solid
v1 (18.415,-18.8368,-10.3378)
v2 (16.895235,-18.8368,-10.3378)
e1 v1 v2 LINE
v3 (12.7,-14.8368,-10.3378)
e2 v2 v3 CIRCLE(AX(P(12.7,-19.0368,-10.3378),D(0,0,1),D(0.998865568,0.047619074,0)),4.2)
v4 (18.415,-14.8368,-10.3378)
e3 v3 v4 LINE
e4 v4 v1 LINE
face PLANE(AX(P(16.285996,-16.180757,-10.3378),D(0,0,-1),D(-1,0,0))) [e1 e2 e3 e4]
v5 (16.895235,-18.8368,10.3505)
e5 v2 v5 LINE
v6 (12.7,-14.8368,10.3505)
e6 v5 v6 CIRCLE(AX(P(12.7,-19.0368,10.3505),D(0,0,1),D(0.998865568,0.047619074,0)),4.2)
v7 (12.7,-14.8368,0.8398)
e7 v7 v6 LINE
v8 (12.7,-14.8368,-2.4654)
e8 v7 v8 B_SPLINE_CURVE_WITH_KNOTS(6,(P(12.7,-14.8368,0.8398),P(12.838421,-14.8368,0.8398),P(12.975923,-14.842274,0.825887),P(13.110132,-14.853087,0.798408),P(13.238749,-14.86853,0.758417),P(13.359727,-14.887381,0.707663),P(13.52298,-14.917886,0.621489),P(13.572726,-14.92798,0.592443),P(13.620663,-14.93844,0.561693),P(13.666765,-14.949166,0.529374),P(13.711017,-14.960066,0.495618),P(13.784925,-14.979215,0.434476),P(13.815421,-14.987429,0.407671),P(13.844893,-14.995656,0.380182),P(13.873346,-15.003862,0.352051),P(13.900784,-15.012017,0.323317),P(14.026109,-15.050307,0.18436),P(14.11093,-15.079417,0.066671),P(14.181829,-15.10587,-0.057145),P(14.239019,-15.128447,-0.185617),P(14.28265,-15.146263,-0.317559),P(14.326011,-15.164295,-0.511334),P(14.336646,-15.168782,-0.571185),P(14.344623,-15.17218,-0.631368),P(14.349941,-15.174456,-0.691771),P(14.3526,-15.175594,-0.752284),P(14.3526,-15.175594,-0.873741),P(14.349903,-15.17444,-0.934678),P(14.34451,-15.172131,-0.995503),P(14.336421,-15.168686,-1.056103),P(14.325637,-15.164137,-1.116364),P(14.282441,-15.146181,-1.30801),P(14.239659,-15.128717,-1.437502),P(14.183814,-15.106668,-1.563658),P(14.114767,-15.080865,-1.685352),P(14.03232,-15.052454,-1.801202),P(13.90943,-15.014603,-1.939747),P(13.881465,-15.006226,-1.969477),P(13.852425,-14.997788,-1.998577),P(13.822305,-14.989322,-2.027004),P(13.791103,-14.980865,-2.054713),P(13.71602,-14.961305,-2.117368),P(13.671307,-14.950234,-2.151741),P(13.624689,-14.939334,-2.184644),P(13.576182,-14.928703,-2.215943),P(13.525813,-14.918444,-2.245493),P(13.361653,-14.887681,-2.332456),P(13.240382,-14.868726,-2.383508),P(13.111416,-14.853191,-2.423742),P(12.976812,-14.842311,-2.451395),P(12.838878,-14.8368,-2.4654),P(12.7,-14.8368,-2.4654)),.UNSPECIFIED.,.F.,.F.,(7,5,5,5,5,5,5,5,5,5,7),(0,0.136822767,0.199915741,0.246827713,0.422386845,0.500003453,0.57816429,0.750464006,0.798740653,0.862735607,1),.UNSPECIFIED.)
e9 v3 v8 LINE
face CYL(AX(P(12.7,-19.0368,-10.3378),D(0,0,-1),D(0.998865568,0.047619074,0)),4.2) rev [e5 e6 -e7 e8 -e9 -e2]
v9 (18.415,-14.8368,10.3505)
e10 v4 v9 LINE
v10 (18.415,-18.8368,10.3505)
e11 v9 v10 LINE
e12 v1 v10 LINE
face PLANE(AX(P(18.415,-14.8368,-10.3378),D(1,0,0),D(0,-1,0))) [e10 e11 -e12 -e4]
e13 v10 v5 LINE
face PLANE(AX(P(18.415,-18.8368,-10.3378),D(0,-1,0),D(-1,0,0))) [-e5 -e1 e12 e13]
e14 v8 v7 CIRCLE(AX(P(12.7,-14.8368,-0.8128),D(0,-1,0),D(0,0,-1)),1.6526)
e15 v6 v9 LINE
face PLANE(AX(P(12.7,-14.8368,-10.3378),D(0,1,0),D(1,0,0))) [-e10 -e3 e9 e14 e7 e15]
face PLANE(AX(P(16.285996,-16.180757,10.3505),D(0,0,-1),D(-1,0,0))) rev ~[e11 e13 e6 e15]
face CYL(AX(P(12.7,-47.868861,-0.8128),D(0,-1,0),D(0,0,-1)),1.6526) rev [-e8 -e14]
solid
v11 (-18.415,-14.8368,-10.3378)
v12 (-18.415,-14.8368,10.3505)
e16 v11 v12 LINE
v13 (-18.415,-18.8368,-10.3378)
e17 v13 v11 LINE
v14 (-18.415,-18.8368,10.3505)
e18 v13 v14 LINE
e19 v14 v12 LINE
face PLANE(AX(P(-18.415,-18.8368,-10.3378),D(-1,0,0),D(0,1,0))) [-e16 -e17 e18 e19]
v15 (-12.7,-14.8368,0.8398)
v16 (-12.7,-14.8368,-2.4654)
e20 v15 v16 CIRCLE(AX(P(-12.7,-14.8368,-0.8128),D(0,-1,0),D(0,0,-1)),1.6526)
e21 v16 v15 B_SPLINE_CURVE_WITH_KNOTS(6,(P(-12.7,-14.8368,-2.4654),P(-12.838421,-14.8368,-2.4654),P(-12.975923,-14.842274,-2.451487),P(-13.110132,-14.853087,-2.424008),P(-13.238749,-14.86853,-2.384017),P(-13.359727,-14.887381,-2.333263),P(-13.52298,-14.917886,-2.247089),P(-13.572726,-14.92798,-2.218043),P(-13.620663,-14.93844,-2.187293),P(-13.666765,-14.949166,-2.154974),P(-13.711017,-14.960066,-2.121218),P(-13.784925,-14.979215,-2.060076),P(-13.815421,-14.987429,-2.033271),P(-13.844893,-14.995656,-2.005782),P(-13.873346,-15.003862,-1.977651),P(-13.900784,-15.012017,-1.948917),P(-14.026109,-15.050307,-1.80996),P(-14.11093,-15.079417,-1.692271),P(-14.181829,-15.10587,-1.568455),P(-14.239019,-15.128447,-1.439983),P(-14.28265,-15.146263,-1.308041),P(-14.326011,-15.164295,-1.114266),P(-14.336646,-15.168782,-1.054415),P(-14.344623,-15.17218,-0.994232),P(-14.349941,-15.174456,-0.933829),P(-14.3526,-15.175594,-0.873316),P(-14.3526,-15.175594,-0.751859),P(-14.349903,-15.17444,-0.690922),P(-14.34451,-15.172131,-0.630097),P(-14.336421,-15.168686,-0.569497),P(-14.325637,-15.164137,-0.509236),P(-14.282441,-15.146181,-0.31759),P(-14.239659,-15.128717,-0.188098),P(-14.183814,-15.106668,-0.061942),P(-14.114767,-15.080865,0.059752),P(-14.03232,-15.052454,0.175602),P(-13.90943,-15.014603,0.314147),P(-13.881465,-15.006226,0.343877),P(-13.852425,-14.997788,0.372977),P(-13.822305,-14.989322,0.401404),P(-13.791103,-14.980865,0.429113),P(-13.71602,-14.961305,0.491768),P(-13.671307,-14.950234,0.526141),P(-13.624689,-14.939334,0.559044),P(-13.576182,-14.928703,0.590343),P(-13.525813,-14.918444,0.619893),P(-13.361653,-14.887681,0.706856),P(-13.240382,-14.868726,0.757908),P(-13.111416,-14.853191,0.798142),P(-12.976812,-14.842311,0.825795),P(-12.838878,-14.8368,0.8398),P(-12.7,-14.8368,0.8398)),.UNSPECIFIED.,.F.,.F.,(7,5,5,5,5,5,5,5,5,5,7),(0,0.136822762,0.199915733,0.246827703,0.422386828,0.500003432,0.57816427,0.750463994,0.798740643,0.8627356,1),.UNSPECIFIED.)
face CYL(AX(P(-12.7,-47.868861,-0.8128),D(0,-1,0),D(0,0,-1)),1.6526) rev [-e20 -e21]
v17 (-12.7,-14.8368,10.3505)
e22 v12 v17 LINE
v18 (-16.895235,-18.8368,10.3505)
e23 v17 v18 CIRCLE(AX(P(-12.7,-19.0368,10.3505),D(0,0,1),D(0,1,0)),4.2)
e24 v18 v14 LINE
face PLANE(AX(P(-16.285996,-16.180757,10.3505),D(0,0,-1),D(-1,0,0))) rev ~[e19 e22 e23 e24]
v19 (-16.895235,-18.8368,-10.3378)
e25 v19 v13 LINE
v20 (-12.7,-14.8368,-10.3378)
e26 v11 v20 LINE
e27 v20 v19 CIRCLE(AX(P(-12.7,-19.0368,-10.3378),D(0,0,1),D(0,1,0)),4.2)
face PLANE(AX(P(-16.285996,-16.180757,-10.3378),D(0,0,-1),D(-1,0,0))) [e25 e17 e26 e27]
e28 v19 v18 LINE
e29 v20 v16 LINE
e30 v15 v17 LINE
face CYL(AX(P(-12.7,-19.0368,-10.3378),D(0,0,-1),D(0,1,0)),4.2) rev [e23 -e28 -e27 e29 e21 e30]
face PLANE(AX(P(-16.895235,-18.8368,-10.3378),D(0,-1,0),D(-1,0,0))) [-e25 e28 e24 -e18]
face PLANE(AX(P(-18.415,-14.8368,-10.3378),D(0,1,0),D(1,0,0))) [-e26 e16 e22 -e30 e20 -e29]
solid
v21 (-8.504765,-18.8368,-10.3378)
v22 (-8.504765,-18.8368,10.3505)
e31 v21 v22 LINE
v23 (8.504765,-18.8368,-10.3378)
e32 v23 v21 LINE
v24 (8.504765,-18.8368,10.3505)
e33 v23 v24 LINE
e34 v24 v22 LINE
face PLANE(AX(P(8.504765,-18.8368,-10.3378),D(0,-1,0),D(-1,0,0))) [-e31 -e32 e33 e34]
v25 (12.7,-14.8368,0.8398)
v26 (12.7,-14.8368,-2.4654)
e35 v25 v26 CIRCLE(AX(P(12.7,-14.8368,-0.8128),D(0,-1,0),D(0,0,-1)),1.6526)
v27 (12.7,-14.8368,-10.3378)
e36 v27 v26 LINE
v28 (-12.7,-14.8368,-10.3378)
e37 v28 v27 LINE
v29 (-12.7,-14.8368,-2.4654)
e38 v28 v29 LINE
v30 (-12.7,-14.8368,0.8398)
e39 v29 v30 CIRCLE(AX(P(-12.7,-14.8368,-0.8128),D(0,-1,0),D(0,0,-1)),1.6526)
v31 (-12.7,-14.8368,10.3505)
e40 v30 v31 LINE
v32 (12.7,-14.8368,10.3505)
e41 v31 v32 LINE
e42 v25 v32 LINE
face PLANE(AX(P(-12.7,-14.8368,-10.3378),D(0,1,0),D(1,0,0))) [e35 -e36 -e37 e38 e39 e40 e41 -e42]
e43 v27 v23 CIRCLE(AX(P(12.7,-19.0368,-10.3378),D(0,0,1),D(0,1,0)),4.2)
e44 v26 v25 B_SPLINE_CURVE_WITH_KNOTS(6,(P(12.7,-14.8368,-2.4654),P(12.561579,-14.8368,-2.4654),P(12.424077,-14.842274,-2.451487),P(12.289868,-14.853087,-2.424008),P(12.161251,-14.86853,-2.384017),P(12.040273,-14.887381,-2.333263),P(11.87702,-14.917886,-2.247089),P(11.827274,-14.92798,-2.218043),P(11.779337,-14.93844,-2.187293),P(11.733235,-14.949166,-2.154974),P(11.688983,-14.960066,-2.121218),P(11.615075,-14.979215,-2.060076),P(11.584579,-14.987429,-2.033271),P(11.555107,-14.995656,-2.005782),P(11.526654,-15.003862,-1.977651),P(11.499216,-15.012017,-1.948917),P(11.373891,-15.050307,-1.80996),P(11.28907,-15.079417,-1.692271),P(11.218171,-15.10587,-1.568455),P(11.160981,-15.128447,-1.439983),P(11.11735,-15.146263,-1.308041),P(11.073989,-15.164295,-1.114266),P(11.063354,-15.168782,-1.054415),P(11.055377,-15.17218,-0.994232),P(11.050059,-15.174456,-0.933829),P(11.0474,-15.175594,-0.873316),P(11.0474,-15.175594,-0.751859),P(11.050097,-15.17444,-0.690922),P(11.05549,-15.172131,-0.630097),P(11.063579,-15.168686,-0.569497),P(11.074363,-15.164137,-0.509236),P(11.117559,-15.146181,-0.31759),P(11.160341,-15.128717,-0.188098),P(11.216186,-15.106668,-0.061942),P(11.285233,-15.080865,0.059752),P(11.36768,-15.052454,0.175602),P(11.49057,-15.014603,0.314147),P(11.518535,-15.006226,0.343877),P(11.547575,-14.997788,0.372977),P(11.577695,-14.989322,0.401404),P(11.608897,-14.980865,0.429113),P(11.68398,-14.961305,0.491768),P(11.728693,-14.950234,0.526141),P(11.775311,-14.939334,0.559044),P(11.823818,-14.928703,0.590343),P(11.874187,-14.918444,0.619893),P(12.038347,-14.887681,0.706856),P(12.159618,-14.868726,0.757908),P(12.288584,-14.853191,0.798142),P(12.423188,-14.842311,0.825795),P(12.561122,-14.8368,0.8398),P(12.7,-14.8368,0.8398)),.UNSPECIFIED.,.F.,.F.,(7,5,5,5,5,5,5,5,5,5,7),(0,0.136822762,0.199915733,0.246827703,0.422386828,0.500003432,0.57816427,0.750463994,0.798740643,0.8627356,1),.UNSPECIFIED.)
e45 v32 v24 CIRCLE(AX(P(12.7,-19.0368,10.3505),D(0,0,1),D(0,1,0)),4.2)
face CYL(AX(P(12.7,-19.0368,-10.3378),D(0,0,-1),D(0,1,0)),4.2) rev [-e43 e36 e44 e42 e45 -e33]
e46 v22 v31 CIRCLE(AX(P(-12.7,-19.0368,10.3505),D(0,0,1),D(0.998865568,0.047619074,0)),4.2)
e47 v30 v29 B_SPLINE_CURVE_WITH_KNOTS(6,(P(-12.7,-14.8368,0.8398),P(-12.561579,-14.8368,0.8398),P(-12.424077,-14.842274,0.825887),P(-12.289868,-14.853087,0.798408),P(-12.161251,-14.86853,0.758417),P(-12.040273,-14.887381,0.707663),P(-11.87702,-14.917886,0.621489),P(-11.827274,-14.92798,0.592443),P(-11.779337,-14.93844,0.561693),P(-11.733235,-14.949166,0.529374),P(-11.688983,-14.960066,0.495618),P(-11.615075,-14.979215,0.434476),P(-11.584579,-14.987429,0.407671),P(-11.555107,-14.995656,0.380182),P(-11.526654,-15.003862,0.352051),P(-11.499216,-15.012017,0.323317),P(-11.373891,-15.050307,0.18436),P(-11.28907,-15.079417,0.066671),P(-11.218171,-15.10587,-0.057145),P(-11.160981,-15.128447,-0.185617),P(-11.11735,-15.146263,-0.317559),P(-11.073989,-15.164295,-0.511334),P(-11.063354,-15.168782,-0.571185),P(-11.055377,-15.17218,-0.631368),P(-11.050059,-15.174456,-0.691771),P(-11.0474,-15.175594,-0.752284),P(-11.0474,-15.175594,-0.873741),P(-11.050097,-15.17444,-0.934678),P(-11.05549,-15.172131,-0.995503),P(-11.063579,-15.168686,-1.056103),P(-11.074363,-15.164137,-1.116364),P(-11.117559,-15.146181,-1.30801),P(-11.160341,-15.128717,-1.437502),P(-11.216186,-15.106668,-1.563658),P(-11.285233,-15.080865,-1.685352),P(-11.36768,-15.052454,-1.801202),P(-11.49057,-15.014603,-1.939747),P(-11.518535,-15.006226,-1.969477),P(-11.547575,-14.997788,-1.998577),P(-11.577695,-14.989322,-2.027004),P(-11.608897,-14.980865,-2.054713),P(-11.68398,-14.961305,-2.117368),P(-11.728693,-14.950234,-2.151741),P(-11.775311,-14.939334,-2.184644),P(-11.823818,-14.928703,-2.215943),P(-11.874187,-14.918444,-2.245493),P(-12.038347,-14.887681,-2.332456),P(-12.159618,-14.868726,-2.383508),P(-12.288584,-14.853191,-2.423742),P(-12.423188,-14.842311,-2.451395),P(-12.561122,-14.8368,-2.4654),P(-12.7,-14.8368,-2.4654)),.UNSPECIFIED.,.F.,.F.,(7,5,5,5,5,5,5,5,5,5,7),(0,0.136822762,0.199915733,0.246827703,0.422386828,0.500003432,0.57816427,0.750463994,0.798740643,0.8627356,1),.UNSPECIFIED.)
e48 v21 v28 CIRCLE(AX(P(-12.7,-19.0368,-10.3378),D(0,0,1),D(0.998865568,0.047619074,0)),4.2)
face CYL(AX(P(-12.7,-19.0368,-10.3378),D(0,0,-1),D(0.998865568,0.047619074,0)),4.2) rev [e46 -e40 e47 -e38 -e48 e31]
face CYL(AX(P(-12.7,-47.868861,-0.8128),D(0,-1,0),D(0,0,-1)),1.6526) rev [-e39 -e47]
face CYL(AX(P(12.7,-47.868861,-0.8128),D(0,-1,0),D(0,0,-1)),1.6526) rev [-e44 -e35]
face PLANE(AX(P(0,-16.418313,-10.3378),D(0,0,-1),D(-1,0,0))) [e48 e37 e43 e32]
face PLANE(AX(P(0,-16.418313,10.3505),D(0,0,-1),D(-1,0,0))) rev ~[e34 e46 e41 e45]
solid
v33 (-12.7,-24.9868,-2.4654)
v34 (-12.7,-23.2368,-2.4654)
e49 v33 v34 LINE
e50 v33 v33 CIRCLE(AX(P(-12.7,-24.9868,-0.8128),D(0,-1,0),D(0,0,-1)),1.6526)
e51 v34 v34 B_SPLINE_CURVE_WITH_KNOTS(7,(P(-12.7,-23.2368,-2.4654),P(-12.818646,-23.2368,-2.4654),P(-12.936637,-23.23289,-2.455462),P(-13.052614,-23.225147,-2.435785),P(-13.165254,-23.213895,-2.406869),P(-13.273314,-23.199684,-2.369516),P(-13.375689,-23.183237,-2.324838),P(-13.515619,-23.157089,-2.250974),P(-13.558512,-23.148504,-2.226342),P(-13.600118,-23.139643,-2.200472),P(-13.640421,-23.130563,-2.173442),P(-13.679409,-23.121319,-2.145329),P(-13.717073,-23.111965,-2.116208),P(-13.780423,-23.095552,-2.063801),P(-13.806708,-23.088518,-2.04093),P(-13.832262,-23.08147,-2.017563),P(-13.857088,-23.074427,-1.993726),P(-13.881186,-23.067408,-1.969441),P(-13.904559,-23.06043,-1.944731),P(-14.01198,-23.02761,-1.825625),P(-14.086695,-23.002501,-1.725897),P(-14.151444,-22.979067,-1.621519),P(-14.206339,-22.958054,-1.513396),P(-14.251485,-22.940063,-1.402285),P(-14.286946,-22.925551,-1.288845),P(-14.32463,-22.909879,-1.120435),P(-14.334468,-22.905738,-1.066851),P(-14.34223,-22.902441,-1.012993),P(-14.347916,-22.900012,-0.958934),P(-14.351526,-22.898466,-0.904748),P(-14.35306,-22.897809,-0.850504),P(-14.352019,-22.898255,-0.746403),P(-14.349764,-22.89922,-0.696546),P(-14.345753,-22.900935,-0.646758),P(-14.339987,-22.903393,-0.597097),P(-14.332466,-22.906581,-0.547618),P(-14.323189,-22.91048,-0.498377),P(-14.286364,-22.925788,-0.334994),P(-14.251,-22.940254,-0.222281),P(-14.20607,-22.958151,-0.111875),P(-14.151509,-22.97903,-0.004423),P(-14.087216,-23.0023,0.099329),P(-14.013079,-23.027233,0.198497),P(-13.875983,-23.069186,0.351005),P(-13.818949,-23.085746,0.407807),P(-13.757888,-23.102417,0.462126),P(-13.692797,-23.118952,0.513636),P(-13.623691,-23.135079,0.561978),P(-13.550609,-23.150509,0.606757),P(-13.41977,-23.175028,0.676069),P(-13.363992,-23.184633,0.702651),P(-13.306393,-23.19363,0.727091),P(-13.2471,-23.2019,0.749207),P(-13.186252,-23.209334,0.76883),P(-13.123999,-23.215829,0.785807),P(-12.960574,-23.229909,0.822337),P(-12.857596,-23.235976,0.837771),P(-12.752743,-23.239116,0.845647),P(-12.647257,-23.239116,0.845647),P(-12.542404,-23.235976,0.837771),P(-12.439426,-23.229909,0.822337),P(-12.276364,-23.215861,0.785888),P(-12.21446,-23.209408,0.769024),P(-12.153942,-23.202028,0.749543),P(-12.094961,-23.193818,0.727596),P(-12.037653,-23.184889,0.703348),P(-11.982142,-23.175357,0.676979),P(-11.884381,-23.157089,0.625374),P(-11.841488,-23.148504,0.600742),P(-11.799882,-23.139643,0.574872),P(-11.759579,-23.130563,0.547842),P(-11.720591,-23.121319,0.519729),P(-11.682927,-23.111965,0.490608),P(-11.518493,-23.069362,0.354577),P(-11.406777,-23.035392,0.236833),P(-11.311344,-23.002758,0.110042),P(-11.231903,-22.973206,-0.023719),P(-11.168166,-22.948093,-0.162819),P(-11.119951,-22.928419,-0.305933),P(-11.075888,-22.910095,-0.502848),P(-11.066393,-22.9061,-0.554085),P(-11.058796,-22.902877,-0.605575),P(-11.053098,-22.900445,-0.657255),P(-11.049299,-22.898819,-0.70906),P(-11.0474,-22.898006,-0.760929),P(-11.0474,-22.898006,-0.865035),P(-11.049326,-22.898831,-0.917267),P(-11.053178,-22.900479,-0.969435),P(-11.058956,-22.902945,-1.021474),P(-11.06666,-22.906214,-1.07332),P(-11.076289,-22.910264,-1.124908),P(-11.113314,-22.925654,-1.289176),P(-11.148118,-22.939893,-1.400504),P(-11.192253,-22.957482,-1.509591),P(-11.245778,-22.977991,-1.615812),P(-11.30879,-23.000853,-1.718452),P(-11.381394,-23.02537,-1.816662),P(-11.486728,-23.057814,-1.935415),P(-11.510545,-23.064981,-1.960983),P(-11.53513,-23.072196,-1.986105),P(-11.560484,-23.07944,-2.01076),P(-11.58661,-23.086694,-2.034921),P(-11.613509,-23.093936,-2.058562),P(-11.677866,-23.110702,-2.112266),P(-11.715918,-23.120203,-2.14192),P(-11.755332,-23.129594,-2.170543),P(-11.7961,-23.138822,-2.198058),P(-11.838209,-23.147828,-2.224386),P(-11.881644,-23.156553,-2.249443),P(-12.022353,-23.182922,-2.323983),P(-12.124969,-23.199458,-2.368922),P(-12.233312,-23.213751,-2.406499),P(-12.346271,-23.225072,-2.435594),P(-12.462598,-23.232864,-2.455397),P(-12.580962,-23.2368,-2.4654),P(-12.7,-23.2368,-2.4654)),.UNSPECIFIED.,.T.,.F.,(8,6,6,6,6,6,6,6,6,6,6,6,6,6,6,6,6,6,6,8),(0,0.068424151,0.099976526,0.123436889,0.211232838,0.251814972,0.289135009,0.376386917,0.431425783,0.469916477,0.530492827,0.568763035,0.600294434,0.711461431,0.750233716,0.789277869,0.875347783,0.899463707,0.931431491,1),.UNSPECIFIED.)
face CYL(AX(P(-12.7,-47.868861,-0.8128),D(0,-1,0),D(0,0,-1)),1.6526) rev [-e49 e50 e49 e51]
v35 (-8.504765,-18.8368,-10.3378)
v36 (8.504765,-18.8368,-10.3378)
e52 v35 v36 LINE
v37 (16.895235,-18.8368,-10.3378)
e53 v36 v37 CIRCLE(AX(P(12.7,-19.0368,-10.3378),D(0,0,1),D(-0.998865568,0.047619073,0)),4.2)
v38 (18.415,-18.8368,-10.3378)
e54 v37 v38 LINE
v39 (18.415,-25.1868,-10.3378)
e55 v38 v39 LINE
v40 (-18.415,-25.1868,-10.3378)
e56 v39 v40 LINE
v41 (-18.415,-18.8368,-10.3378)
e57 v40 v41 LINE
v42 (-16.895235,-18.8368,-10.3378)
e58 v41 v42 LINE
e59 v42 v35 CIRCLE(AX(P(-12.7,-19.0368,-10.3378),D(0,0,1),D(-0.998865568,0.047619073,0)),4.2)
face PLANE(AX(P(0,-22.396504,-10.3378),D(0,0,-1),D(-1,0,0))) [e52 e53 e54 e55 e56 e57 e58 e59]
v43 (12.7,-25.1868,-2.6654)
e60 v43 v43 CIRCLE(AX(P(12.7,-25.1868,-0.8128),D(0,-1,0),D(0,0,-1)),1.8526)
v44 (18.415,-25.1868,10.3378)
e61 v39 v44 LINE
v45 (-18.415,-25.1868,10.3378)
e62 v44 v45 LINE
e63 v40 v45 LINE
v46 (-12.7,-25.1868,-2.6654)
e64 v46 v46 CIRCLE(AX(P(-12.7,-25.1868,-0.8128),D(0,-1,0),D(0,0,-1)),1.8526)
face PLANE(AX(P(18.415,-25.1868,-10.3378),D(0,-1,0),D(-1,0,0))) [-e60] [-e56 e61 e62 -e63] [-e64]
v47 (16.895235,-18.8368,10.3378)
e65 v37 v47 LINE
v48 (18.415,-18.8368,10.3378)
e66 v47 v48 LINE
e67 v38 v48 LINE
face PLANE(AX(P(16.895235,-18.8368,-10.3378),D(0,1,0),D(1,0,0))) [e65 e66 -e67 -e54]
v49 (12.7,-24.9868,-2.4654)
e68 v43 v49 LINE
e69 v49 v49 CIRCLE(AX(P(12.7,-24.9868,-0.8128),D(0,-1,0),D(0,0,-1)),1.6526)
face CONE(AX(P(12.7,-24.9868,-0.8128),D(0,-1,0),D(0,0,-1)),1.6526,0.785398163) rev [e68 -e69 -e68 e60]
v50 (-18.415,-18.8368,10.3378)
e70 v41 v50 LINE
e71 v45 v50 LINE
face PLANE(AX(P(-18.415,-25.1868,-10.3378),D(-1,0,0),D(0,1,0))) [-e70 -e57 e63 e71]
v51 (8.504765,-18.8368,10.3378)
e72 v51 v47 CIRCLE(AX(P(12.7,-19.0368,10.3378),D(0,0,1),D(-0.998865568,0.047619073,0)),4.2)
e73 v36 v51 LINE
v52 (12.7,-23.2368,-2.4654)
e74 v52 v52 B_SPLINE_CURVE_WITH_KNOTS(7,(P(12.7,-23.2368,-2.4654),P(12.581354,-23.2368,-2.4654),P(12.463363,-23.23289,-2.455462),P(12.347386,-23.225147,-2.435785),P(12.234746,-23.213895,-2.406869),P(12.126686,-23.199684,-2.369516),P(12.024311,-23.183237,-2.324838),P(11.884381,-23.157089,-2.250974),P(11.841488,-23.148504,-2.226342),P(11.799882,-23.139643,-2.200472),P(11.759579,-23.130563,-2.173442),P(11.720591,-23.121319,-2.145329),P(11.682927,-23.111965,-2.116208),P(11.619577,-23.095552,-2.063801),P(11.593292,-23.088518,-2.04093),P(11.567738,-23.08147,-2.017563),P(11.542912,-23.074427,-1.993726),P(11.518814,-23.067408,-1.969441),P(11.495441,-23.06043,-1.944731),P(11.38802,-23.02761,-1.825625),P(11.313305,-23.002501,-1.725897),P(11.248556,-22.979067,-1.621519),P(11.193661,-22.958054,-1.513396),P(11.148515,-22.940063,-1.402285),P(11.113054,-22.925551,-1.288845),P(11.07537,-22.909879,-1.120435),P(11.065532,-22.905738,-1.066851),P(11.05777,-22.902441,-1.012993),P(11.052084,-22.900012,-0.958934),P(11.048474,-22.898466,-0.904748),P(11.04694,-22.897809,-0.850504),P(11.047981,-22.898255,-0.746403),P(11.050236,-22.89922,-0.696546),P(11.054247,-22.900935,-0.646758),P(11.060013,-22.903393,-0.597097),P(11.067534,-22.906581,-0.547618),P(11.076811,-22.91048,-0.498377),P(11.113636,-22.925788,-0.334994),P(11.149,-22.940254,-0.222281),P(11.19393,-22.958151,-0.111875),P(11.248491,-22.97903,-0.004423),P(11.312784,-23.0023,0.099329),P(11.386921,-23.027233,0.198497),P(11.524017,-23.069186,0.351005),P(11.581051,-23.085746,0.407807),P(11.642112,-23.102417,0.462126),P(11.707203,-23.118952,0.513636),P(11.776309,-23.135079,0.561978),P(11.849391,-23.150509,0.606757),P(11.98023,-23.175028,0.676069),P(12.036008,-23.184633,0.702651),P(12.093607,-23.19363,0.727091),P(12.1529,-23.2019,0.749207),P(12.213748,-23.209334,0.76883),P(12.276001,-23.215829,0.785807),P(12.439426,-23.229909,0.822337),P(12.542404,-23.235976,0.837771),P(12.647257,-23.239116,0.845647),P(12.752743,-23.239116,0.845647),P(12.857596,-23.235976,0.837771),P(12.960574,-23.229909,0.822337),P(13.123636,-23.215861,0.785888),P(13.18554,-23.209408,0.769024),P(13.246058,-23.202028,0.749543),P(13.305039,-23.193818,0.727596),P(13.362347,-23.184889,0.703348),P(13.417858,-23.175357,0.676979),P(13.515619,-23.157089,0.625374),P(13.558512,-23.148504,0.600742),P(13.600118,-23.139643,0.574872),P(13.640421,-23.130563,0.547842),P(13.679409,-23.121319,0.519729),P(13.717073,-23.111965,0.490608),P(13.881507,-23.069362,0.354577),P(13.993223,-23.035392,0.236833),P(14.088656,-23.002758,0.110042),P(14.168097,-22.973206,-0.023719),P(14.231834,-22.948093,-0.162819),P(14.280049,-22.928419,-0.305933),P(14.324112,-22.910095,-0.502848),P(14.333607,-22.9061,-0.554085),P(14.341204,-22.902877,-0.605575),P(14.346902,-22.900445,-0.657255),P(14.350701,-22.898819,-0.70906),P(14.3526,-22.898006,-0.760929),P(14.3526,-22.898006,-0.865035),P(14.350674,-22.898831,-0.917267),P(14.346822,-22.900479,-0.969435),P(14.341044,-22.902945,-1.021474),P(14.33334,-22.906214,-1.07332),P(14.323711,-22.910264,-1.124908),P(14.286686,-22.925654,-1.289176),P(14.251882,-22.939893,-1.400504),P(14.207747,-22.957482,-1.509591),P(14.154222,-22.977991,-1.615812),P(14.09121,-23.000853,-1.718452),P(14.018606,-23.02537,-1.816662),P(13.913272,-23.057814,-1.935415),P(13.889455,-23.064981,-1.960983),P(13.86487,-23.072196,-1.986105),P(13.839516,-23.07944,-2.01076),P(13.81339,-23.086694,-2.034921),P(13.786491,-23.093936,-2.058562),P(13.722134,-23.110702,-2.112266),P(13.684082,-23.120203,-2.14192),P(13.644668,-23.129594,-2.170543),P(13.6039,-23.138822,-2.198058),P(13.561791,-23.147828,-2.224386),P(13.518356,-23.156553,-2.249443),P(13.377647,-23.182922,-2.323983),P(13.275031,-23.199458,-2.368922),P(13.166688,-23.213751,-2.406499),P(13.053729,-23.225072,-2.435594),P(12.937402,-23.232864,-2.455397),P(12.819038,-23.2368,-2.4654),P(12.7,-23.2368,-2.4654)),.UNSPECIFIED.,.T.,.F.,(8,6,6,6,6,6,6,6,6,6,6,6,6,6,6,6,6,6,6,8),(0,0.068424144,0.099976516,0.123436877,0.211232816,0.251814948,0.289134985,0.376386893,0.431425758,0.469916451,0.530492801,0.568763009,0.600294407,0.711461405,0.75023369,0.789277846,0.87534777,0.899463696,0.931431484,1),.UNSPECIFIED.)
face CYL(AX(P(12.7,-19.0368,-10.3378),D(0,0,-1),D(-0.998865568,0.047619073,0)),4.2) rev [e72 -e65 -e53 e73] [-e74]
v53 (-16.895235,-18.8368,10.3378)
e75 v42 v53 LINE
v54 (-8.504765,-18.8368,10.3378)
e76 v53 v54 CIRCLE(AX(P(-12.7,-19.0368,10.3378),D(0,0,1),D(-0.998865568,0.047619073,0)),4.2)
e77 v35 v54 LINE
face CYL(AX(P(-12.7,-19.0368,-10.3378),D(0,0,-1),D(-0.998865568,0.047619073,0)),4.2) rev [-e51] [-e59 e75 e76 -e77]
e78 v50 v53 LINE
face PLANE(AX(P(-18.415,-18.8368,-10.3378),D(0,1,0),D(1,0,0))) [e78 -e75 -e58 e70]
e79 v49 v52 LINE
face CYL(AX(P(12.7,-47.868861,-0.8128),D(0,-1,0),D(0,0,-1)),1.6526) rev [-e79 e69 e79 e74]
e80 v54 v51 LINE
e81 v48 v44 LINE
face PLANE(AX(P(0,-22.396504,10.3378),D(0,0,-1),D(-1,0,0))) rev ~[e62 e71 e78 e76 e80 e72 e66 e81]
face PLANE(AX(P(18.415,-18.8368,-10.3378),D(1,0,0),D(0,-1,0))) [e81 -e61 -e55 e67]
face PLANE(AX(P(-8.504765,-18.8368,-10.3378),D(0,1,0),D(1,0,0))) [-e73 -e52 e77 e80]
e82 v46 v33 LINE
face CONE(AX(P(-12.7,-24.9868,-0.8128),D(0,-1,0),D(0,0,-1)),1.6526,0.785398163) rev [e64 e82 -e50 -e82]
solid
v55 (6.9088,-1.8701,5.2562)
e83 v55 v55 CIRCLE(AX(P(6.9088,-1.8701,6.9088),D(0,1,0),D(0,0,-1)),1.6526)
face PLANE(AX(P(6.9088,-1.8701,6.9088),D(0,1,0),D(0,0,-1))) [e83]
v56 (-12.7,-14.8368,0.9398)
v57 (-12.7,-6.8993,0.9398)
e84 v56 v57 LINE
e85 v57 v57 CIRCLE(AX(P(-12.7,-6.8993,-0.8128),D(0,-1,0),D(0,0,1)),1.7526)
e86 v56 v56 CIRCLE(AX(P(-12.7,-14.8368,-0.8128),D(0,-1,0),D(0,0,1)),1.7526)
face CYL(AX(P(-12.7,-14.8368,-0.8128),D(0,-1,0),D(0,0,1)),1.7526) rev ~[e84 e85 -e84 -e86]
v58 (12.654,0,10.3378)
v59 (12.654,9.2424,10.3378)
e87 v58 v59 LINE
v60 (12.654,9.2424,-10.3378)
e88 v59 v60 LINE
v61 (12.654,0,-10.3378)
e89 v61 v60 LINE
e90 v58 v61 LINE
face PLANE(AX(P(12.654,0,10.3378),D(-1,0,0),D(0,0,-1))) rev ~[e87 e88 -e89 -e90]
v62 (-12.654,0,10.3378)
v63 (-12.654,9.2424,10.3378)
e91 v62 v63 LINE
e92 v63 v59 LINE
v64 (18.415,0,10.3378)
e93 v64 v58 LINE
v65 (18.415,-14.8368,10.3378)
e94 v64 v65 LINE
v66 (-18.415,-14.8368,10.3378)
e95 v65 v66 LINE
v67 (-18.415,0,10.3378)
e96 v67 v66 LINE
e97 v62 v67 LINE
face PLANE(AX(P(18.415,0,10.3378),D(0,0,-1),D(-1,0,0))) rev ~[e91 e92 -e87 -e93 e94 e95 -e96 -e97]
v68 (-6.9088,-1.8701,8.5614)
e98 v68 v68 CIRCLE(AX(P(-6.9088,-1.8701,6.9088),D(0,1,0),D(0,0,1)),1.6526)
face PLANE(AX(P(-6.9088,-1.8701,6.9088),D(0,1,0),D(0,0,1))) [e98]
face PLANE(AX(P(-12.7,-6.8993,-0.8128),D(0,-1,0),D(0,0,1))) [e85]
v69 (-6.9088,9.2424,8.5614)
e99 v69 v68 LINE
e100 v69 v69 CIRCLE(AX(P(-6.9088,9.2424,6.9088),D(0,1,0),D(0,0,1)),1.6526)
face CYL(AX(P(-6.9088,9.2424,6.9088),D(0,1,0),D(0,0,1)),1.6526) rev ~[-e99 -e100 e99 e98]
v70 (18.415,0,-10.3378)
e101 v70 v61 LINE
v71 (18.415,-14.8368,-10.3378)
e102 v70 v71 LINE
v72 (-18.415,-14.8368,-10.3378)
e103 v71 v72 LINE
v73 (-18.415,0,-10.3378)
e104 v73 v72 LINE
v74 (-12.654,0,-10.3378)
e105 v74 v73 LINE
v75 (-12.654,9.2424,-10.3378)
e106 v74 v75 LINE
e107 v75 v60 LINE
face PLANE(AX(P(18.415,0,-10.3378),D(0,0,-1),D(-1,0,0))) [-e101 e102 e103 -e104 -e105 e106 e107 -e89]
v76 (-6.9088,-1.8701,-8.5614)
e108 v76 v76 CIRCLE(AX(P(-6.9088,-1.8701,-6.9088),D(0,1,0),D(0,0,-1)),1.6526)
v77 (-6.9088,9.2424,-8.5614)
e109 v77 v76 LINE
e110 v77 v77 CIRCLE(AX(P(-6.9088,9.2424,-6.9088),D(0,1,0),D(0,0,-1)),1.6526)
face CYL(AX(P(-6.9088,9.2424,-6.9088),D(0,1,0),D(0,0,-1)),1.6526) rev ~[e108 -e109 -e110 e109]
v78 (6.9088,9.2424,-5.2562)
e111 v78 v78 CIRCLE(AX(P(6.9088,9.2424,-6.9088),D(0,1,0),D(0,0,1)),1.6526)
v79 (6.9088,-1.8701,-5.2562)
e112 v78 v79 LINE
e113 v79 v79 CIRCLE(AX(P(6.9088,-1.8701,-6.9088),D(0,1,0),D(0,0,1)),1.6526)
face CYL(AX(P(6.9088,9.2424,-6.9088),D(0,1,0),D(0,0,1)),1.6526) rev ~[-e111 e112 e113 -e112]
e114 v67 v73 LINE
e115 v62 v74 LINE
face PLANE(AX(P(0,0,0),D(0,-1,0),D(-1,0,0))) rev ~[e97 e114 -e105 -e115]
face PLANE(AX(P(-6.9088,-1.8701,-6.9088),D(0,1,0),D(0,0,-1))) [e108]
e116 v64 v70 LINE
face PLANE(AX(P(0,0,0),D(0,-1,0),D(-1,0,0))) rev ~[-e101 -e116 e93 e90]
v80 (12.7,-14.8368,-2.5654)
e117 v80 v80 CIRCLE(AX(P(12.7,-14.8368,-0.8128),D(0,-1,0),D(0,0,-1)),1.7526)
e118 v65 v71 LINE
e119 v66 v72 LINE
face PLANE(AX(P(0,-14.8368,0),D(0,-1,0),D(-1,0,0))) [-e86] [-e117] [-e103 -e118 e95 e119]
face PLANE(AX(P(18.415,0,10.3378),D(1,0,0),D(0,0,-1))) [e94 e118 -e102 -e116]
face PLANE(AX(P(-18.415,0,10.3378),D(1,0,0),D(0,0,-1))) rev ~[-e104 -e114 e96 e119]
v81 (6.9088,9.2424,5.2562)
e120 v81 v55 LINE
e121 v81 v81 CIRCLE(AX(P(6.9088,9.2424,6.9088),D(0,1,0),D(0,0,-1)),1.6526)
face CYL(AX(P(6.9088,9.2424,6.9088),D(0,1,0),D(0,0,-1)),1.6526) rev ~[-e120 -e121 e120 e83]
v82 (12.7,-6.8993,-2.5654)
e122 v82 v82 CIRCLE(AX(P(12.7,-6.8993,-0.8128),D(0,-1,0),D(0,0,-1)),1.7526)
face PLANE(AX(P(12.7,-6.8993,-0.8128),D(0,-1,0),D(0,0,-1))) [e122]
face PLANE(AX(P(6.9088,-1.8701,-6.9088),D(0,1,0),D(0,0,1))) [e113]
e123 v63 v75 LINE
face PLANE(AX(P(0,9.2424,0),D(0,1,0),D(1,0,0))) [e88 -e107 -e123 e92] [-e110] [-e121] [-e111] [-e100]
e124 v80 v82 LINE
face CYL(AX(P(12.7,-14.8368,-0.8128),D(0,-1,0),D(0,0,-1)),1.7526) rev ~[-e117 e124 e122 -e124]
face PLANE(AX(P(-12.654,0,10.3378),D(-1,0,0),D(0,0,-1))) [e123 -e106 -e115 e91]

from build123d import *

# Parameters (mm, degrees)
SKETCH1_W               = 25.308
SKETCH1_H               = 20.6756
BOSS_EXTRUDE1_DEPTH     = 9.2424
SKETCH3_W               = 36.83
SKETCH3_H               = 20.6756
BOSS_EXTRUDE2_DEPTH     = 14.8368
SKETCH4_R               = 1.6526
CUT_EXTRUDE2_DEPTH      = 11.1125
SKETCH5_R               = 1.7526
CUT_EXTRUDE3_DEPTH      = 7.9375
BOSS_EXTRUDE7_DEPTH     = 20.6883
BOSS_EXTRUDE7_2_DEPTH   = 20.6883
BOSS_EXTRUDE7_3_DEPTH   = 20.6883
BOSS_EXTRUDE9_DEPTH     = 20.6756
CUT_EXTRUDE5_DEPTH      = 6.35
CUT_EXTRUDE5_DEPTH_BACK = 33.032061249
SKETCH9_R               = 1.6526
CHAMFER1_SIZE           = 0.2


with BuildPart() as part:
    # Sketch1 → Boss-Extrude1 (new body)
    with BuildSketch(Plane(origin=(0, 0, 0), x_dir=(1, 0, 0), z_dir=(0, 1, 0))):
        Rectangle(SKETCH1_W, SKETCH1_H)
    extrude(amount=BOSS_EXTRUDE1_DEPTH)

    # Sketch3 → Boss-Extrude2 (add)
    with BuildSketch(Plane(origin=(0, 0, 0), x_dir=(-1, 0, 0), z_dir=(0, -1, 0))):
        Rectangle(SKETCH3_W, SKETCH3_H)
    extrude(amount=BOSS_EXTRUDE2_DEPTH)

    # Sketch4 → Cut-Extrude2 (cut)
    with BuildSketch(Plane(origin=(0, 9.2424, 0), x_dir=(1, 0, 0), z_dir=(0, 1, 0))):
        with Locations(Location((-6.9088, -6.9088, 0), (0, 0, 270))):
            Circle(SKETCH4_R)
        with Locations(Location((6.9088, -6.9088, 0), (0, 0, 90))):
            Circle(SKETCH4_R)
        with Locations(Location((6.9088, 6.9088, 0), (0, 0, 270))):
            Circle(SKETCH4_R)
        with Locations(Location((-6.9088, 6.9088, 0), (0, 0, 90))):
            Circle(SKETCH4_R)
    extrude(amount=-CUT_EXTRUDE2_DEPTH, mode=Mode.SUBTRACT)

    # Sketch5 → Cut-Extrude3 (cut)
    with BuildSketch(Plane(origin=(0, -14.8368, 0), x_dir=(-1, 0, 0), z_dir=(0, -1, 0))):
        with Locations(Location((-12.7, 0.8128, 0), (0, 0, 90))):
            Circle(SKETCH5_R)
        with Locations(Location((12.7, 0.8128, 0), (0, 0, 270))):
            Circle(SKETCH5_R)
    extrude(amount=-CUT_EXTRUDE3_DEPTH, mode=Mode.SUBTRACT)


with BuildPart() as body_2:
    # Sketch6 → Boss-Extrude7 (new body)
    with BuildSketch(Plane(origin=(0, 0, -10.3378), x_dir=(-1, 0, 0), z_dir=(0, 0, -1))):
        with BuildLine():
            Line((0, -14.8368), (-12.7, -14.8368))
            ThreePointArc((-12.7, -14.8368), (-9.80172469, -15.997063132), (-8.504764612, -18.836799892))
            Line((-8.504764612, -18.836799892), (8.504764612, -18.836799892))
            ThreePointArc((8.504764612, -18.836799892), (9.80172469, -15.997063132), (12.7, -14.8368))
            Line((12.7, -14.8368), (0, -14.8368))
        make_face()
    extrude(amount=-BOSS_EXTRUDE7_DEPTH)


with BuildPart() as body_3:
    # Sketch6 → Boss-Extrude7 2 (new body)
    with BuildSketch(Plane(origin=(0, 0, -10.3378), x_dir=(-1, 0, 0), z_dir=(0, 0, -1))):
        with BuildLine():
            Line((-12.7, -14.8368), (-18.415, -14.8368))
            Line((-18.415, -14.8368), (-18.415, -18.836799892))
            Line((-18.415, -18.836799892), (-16.895235388, -18.836799892))
            ThreePointArc((-16.895235388, -18.836799892), (-15.59827531, -15.997063132), (-12.7, -14.8368))
        make_face()
    extrude(amount=-BOSS_EXTRUDE7_2_DEPTH)


with BuildPart() as body_4:
    # Sketch6 → Boss-Extrude7 3 (new body)
    with BuildSketch(Plane(origin=(0, 0, -10.3378), x_dir=(-1, 0, 0), z_dir=(0, 0, -1))):
        with BuildLine():
            Line((18.415, -14.8368), (12.7, -14.8368))
            ThreePointArc((12.7, -14.8368), (15.59827531, -15.997063132), (16.895235388, -18.836799892))
            Line((16.895235388, -18.836799892), (18.415, -18.836799892))
            Line((18.415, -18.836799892), (18.415, -14.8368))
        make_face()
    extrude(amount=-BOSS_EXTRUDE7_3_DEPTH)


with BuildPart() as body_5:
    # Sketch10 → Boss-Extrude9 (new body)
    with BuildSketch(Plane(origin=(0, 0, -10.3378), x_dir=(-1, 0, 0), z_dir=(0, 0, -1))):
        with BuildLine():
            Line((-18.415, -18.836799892), (-18.415, -25.186799892))
            Line((-18.415, -25.186799892), (18.415, -25.186799892))
            Line((18.415, -25.186799892), (18.415, -18.836799892))
            Line((18.415, -18.836799892), (16.895235388, -18.836799892))
            ThreePointArc((16.895235388, -18.836799892), (12.7, -23.2368), (8.504764612, -18.836799892))
            Line((8.504764612, -18.836799892), (-8.504764612, -18.836799892))
            ThreePointArc((-8.504764612, -18.836799892), (-12.7, -23.2368), (-16.895235388, -18.836799892))
            Line((-16.895235388, -18.836799892), (-18.415, -18.836799892))
        make_face()
    extrude(amount=-BOSS_EXTRUDE9_DEPTH)


with BuildPart() as cut_extrude5_tool:
    # Sketch9 → Cut-Extrude5 (new, two sides: drawn at the far end of the back side and taken through both)
    with BuildSketch(Plane(origin=(0, -14.8368, 0), x_dir=(1, 0, 0), z_dir=(0, 1, 0)).offset(-CUT_EXTRUDE5_DEPTH_BACK)):
        with Locations(Location((-12.7, 0.8128, 0), (0, 0, 90))):
            Circle(SKETCH9_R)
        with Locations(Location((12.7, 0.8128, 0), (0, 0, 90))):
            Circle(SKETCH9_R)
    extrude(amount=CUT_EXTRUDE5_DEPTH + CUT_EXTRUDE5_DEPTH_BACK)


with BuildPart() as body_2_1:
    add(body_2.part)

    # Cut-Extrude5: cut by cut_extrude5_tool
    add(cut_extrude5_tool.part, mode=Mode.SUBTRACT)


with BuildPart() as body_3_1:
    add(body_3.part)

    # Cut-Extrude5: cut by cut_extrude5_tool
    add(cut_extrude5_tool.part, mode=Mode.SUBTRACT)


with BuildPart() as body_4_1:
    add(body_4.part)

    # Cut-Extrude5: cut by cut_extrude5_tool
    add(cut_extrude5_tool.part, mode=Mode.SUBTRACT)


with BuildPart() as body_5_1:
    add(body_5.part)

    # Cut-Extrude5: cut by cut_extrude5_tool
    add(cut_extrude5_tool.part, mode=Mode.SUBTRACT)

    # Chamfer1
    chamfer1_edges = [body_5_1.edges().sort_by_distance(p)[0] for p in [
        (-12.7, -25.186799892, 0.8398),
        (12.7, -25.186799892, 0.8398),
    ]]
    chamfer(chamfer1_edges, length=CHAMFER1_SIZE)


solid = Compound([part.part, body_2_1.part, body_3_1.part, body_4_1.part, body_5_1.part])
